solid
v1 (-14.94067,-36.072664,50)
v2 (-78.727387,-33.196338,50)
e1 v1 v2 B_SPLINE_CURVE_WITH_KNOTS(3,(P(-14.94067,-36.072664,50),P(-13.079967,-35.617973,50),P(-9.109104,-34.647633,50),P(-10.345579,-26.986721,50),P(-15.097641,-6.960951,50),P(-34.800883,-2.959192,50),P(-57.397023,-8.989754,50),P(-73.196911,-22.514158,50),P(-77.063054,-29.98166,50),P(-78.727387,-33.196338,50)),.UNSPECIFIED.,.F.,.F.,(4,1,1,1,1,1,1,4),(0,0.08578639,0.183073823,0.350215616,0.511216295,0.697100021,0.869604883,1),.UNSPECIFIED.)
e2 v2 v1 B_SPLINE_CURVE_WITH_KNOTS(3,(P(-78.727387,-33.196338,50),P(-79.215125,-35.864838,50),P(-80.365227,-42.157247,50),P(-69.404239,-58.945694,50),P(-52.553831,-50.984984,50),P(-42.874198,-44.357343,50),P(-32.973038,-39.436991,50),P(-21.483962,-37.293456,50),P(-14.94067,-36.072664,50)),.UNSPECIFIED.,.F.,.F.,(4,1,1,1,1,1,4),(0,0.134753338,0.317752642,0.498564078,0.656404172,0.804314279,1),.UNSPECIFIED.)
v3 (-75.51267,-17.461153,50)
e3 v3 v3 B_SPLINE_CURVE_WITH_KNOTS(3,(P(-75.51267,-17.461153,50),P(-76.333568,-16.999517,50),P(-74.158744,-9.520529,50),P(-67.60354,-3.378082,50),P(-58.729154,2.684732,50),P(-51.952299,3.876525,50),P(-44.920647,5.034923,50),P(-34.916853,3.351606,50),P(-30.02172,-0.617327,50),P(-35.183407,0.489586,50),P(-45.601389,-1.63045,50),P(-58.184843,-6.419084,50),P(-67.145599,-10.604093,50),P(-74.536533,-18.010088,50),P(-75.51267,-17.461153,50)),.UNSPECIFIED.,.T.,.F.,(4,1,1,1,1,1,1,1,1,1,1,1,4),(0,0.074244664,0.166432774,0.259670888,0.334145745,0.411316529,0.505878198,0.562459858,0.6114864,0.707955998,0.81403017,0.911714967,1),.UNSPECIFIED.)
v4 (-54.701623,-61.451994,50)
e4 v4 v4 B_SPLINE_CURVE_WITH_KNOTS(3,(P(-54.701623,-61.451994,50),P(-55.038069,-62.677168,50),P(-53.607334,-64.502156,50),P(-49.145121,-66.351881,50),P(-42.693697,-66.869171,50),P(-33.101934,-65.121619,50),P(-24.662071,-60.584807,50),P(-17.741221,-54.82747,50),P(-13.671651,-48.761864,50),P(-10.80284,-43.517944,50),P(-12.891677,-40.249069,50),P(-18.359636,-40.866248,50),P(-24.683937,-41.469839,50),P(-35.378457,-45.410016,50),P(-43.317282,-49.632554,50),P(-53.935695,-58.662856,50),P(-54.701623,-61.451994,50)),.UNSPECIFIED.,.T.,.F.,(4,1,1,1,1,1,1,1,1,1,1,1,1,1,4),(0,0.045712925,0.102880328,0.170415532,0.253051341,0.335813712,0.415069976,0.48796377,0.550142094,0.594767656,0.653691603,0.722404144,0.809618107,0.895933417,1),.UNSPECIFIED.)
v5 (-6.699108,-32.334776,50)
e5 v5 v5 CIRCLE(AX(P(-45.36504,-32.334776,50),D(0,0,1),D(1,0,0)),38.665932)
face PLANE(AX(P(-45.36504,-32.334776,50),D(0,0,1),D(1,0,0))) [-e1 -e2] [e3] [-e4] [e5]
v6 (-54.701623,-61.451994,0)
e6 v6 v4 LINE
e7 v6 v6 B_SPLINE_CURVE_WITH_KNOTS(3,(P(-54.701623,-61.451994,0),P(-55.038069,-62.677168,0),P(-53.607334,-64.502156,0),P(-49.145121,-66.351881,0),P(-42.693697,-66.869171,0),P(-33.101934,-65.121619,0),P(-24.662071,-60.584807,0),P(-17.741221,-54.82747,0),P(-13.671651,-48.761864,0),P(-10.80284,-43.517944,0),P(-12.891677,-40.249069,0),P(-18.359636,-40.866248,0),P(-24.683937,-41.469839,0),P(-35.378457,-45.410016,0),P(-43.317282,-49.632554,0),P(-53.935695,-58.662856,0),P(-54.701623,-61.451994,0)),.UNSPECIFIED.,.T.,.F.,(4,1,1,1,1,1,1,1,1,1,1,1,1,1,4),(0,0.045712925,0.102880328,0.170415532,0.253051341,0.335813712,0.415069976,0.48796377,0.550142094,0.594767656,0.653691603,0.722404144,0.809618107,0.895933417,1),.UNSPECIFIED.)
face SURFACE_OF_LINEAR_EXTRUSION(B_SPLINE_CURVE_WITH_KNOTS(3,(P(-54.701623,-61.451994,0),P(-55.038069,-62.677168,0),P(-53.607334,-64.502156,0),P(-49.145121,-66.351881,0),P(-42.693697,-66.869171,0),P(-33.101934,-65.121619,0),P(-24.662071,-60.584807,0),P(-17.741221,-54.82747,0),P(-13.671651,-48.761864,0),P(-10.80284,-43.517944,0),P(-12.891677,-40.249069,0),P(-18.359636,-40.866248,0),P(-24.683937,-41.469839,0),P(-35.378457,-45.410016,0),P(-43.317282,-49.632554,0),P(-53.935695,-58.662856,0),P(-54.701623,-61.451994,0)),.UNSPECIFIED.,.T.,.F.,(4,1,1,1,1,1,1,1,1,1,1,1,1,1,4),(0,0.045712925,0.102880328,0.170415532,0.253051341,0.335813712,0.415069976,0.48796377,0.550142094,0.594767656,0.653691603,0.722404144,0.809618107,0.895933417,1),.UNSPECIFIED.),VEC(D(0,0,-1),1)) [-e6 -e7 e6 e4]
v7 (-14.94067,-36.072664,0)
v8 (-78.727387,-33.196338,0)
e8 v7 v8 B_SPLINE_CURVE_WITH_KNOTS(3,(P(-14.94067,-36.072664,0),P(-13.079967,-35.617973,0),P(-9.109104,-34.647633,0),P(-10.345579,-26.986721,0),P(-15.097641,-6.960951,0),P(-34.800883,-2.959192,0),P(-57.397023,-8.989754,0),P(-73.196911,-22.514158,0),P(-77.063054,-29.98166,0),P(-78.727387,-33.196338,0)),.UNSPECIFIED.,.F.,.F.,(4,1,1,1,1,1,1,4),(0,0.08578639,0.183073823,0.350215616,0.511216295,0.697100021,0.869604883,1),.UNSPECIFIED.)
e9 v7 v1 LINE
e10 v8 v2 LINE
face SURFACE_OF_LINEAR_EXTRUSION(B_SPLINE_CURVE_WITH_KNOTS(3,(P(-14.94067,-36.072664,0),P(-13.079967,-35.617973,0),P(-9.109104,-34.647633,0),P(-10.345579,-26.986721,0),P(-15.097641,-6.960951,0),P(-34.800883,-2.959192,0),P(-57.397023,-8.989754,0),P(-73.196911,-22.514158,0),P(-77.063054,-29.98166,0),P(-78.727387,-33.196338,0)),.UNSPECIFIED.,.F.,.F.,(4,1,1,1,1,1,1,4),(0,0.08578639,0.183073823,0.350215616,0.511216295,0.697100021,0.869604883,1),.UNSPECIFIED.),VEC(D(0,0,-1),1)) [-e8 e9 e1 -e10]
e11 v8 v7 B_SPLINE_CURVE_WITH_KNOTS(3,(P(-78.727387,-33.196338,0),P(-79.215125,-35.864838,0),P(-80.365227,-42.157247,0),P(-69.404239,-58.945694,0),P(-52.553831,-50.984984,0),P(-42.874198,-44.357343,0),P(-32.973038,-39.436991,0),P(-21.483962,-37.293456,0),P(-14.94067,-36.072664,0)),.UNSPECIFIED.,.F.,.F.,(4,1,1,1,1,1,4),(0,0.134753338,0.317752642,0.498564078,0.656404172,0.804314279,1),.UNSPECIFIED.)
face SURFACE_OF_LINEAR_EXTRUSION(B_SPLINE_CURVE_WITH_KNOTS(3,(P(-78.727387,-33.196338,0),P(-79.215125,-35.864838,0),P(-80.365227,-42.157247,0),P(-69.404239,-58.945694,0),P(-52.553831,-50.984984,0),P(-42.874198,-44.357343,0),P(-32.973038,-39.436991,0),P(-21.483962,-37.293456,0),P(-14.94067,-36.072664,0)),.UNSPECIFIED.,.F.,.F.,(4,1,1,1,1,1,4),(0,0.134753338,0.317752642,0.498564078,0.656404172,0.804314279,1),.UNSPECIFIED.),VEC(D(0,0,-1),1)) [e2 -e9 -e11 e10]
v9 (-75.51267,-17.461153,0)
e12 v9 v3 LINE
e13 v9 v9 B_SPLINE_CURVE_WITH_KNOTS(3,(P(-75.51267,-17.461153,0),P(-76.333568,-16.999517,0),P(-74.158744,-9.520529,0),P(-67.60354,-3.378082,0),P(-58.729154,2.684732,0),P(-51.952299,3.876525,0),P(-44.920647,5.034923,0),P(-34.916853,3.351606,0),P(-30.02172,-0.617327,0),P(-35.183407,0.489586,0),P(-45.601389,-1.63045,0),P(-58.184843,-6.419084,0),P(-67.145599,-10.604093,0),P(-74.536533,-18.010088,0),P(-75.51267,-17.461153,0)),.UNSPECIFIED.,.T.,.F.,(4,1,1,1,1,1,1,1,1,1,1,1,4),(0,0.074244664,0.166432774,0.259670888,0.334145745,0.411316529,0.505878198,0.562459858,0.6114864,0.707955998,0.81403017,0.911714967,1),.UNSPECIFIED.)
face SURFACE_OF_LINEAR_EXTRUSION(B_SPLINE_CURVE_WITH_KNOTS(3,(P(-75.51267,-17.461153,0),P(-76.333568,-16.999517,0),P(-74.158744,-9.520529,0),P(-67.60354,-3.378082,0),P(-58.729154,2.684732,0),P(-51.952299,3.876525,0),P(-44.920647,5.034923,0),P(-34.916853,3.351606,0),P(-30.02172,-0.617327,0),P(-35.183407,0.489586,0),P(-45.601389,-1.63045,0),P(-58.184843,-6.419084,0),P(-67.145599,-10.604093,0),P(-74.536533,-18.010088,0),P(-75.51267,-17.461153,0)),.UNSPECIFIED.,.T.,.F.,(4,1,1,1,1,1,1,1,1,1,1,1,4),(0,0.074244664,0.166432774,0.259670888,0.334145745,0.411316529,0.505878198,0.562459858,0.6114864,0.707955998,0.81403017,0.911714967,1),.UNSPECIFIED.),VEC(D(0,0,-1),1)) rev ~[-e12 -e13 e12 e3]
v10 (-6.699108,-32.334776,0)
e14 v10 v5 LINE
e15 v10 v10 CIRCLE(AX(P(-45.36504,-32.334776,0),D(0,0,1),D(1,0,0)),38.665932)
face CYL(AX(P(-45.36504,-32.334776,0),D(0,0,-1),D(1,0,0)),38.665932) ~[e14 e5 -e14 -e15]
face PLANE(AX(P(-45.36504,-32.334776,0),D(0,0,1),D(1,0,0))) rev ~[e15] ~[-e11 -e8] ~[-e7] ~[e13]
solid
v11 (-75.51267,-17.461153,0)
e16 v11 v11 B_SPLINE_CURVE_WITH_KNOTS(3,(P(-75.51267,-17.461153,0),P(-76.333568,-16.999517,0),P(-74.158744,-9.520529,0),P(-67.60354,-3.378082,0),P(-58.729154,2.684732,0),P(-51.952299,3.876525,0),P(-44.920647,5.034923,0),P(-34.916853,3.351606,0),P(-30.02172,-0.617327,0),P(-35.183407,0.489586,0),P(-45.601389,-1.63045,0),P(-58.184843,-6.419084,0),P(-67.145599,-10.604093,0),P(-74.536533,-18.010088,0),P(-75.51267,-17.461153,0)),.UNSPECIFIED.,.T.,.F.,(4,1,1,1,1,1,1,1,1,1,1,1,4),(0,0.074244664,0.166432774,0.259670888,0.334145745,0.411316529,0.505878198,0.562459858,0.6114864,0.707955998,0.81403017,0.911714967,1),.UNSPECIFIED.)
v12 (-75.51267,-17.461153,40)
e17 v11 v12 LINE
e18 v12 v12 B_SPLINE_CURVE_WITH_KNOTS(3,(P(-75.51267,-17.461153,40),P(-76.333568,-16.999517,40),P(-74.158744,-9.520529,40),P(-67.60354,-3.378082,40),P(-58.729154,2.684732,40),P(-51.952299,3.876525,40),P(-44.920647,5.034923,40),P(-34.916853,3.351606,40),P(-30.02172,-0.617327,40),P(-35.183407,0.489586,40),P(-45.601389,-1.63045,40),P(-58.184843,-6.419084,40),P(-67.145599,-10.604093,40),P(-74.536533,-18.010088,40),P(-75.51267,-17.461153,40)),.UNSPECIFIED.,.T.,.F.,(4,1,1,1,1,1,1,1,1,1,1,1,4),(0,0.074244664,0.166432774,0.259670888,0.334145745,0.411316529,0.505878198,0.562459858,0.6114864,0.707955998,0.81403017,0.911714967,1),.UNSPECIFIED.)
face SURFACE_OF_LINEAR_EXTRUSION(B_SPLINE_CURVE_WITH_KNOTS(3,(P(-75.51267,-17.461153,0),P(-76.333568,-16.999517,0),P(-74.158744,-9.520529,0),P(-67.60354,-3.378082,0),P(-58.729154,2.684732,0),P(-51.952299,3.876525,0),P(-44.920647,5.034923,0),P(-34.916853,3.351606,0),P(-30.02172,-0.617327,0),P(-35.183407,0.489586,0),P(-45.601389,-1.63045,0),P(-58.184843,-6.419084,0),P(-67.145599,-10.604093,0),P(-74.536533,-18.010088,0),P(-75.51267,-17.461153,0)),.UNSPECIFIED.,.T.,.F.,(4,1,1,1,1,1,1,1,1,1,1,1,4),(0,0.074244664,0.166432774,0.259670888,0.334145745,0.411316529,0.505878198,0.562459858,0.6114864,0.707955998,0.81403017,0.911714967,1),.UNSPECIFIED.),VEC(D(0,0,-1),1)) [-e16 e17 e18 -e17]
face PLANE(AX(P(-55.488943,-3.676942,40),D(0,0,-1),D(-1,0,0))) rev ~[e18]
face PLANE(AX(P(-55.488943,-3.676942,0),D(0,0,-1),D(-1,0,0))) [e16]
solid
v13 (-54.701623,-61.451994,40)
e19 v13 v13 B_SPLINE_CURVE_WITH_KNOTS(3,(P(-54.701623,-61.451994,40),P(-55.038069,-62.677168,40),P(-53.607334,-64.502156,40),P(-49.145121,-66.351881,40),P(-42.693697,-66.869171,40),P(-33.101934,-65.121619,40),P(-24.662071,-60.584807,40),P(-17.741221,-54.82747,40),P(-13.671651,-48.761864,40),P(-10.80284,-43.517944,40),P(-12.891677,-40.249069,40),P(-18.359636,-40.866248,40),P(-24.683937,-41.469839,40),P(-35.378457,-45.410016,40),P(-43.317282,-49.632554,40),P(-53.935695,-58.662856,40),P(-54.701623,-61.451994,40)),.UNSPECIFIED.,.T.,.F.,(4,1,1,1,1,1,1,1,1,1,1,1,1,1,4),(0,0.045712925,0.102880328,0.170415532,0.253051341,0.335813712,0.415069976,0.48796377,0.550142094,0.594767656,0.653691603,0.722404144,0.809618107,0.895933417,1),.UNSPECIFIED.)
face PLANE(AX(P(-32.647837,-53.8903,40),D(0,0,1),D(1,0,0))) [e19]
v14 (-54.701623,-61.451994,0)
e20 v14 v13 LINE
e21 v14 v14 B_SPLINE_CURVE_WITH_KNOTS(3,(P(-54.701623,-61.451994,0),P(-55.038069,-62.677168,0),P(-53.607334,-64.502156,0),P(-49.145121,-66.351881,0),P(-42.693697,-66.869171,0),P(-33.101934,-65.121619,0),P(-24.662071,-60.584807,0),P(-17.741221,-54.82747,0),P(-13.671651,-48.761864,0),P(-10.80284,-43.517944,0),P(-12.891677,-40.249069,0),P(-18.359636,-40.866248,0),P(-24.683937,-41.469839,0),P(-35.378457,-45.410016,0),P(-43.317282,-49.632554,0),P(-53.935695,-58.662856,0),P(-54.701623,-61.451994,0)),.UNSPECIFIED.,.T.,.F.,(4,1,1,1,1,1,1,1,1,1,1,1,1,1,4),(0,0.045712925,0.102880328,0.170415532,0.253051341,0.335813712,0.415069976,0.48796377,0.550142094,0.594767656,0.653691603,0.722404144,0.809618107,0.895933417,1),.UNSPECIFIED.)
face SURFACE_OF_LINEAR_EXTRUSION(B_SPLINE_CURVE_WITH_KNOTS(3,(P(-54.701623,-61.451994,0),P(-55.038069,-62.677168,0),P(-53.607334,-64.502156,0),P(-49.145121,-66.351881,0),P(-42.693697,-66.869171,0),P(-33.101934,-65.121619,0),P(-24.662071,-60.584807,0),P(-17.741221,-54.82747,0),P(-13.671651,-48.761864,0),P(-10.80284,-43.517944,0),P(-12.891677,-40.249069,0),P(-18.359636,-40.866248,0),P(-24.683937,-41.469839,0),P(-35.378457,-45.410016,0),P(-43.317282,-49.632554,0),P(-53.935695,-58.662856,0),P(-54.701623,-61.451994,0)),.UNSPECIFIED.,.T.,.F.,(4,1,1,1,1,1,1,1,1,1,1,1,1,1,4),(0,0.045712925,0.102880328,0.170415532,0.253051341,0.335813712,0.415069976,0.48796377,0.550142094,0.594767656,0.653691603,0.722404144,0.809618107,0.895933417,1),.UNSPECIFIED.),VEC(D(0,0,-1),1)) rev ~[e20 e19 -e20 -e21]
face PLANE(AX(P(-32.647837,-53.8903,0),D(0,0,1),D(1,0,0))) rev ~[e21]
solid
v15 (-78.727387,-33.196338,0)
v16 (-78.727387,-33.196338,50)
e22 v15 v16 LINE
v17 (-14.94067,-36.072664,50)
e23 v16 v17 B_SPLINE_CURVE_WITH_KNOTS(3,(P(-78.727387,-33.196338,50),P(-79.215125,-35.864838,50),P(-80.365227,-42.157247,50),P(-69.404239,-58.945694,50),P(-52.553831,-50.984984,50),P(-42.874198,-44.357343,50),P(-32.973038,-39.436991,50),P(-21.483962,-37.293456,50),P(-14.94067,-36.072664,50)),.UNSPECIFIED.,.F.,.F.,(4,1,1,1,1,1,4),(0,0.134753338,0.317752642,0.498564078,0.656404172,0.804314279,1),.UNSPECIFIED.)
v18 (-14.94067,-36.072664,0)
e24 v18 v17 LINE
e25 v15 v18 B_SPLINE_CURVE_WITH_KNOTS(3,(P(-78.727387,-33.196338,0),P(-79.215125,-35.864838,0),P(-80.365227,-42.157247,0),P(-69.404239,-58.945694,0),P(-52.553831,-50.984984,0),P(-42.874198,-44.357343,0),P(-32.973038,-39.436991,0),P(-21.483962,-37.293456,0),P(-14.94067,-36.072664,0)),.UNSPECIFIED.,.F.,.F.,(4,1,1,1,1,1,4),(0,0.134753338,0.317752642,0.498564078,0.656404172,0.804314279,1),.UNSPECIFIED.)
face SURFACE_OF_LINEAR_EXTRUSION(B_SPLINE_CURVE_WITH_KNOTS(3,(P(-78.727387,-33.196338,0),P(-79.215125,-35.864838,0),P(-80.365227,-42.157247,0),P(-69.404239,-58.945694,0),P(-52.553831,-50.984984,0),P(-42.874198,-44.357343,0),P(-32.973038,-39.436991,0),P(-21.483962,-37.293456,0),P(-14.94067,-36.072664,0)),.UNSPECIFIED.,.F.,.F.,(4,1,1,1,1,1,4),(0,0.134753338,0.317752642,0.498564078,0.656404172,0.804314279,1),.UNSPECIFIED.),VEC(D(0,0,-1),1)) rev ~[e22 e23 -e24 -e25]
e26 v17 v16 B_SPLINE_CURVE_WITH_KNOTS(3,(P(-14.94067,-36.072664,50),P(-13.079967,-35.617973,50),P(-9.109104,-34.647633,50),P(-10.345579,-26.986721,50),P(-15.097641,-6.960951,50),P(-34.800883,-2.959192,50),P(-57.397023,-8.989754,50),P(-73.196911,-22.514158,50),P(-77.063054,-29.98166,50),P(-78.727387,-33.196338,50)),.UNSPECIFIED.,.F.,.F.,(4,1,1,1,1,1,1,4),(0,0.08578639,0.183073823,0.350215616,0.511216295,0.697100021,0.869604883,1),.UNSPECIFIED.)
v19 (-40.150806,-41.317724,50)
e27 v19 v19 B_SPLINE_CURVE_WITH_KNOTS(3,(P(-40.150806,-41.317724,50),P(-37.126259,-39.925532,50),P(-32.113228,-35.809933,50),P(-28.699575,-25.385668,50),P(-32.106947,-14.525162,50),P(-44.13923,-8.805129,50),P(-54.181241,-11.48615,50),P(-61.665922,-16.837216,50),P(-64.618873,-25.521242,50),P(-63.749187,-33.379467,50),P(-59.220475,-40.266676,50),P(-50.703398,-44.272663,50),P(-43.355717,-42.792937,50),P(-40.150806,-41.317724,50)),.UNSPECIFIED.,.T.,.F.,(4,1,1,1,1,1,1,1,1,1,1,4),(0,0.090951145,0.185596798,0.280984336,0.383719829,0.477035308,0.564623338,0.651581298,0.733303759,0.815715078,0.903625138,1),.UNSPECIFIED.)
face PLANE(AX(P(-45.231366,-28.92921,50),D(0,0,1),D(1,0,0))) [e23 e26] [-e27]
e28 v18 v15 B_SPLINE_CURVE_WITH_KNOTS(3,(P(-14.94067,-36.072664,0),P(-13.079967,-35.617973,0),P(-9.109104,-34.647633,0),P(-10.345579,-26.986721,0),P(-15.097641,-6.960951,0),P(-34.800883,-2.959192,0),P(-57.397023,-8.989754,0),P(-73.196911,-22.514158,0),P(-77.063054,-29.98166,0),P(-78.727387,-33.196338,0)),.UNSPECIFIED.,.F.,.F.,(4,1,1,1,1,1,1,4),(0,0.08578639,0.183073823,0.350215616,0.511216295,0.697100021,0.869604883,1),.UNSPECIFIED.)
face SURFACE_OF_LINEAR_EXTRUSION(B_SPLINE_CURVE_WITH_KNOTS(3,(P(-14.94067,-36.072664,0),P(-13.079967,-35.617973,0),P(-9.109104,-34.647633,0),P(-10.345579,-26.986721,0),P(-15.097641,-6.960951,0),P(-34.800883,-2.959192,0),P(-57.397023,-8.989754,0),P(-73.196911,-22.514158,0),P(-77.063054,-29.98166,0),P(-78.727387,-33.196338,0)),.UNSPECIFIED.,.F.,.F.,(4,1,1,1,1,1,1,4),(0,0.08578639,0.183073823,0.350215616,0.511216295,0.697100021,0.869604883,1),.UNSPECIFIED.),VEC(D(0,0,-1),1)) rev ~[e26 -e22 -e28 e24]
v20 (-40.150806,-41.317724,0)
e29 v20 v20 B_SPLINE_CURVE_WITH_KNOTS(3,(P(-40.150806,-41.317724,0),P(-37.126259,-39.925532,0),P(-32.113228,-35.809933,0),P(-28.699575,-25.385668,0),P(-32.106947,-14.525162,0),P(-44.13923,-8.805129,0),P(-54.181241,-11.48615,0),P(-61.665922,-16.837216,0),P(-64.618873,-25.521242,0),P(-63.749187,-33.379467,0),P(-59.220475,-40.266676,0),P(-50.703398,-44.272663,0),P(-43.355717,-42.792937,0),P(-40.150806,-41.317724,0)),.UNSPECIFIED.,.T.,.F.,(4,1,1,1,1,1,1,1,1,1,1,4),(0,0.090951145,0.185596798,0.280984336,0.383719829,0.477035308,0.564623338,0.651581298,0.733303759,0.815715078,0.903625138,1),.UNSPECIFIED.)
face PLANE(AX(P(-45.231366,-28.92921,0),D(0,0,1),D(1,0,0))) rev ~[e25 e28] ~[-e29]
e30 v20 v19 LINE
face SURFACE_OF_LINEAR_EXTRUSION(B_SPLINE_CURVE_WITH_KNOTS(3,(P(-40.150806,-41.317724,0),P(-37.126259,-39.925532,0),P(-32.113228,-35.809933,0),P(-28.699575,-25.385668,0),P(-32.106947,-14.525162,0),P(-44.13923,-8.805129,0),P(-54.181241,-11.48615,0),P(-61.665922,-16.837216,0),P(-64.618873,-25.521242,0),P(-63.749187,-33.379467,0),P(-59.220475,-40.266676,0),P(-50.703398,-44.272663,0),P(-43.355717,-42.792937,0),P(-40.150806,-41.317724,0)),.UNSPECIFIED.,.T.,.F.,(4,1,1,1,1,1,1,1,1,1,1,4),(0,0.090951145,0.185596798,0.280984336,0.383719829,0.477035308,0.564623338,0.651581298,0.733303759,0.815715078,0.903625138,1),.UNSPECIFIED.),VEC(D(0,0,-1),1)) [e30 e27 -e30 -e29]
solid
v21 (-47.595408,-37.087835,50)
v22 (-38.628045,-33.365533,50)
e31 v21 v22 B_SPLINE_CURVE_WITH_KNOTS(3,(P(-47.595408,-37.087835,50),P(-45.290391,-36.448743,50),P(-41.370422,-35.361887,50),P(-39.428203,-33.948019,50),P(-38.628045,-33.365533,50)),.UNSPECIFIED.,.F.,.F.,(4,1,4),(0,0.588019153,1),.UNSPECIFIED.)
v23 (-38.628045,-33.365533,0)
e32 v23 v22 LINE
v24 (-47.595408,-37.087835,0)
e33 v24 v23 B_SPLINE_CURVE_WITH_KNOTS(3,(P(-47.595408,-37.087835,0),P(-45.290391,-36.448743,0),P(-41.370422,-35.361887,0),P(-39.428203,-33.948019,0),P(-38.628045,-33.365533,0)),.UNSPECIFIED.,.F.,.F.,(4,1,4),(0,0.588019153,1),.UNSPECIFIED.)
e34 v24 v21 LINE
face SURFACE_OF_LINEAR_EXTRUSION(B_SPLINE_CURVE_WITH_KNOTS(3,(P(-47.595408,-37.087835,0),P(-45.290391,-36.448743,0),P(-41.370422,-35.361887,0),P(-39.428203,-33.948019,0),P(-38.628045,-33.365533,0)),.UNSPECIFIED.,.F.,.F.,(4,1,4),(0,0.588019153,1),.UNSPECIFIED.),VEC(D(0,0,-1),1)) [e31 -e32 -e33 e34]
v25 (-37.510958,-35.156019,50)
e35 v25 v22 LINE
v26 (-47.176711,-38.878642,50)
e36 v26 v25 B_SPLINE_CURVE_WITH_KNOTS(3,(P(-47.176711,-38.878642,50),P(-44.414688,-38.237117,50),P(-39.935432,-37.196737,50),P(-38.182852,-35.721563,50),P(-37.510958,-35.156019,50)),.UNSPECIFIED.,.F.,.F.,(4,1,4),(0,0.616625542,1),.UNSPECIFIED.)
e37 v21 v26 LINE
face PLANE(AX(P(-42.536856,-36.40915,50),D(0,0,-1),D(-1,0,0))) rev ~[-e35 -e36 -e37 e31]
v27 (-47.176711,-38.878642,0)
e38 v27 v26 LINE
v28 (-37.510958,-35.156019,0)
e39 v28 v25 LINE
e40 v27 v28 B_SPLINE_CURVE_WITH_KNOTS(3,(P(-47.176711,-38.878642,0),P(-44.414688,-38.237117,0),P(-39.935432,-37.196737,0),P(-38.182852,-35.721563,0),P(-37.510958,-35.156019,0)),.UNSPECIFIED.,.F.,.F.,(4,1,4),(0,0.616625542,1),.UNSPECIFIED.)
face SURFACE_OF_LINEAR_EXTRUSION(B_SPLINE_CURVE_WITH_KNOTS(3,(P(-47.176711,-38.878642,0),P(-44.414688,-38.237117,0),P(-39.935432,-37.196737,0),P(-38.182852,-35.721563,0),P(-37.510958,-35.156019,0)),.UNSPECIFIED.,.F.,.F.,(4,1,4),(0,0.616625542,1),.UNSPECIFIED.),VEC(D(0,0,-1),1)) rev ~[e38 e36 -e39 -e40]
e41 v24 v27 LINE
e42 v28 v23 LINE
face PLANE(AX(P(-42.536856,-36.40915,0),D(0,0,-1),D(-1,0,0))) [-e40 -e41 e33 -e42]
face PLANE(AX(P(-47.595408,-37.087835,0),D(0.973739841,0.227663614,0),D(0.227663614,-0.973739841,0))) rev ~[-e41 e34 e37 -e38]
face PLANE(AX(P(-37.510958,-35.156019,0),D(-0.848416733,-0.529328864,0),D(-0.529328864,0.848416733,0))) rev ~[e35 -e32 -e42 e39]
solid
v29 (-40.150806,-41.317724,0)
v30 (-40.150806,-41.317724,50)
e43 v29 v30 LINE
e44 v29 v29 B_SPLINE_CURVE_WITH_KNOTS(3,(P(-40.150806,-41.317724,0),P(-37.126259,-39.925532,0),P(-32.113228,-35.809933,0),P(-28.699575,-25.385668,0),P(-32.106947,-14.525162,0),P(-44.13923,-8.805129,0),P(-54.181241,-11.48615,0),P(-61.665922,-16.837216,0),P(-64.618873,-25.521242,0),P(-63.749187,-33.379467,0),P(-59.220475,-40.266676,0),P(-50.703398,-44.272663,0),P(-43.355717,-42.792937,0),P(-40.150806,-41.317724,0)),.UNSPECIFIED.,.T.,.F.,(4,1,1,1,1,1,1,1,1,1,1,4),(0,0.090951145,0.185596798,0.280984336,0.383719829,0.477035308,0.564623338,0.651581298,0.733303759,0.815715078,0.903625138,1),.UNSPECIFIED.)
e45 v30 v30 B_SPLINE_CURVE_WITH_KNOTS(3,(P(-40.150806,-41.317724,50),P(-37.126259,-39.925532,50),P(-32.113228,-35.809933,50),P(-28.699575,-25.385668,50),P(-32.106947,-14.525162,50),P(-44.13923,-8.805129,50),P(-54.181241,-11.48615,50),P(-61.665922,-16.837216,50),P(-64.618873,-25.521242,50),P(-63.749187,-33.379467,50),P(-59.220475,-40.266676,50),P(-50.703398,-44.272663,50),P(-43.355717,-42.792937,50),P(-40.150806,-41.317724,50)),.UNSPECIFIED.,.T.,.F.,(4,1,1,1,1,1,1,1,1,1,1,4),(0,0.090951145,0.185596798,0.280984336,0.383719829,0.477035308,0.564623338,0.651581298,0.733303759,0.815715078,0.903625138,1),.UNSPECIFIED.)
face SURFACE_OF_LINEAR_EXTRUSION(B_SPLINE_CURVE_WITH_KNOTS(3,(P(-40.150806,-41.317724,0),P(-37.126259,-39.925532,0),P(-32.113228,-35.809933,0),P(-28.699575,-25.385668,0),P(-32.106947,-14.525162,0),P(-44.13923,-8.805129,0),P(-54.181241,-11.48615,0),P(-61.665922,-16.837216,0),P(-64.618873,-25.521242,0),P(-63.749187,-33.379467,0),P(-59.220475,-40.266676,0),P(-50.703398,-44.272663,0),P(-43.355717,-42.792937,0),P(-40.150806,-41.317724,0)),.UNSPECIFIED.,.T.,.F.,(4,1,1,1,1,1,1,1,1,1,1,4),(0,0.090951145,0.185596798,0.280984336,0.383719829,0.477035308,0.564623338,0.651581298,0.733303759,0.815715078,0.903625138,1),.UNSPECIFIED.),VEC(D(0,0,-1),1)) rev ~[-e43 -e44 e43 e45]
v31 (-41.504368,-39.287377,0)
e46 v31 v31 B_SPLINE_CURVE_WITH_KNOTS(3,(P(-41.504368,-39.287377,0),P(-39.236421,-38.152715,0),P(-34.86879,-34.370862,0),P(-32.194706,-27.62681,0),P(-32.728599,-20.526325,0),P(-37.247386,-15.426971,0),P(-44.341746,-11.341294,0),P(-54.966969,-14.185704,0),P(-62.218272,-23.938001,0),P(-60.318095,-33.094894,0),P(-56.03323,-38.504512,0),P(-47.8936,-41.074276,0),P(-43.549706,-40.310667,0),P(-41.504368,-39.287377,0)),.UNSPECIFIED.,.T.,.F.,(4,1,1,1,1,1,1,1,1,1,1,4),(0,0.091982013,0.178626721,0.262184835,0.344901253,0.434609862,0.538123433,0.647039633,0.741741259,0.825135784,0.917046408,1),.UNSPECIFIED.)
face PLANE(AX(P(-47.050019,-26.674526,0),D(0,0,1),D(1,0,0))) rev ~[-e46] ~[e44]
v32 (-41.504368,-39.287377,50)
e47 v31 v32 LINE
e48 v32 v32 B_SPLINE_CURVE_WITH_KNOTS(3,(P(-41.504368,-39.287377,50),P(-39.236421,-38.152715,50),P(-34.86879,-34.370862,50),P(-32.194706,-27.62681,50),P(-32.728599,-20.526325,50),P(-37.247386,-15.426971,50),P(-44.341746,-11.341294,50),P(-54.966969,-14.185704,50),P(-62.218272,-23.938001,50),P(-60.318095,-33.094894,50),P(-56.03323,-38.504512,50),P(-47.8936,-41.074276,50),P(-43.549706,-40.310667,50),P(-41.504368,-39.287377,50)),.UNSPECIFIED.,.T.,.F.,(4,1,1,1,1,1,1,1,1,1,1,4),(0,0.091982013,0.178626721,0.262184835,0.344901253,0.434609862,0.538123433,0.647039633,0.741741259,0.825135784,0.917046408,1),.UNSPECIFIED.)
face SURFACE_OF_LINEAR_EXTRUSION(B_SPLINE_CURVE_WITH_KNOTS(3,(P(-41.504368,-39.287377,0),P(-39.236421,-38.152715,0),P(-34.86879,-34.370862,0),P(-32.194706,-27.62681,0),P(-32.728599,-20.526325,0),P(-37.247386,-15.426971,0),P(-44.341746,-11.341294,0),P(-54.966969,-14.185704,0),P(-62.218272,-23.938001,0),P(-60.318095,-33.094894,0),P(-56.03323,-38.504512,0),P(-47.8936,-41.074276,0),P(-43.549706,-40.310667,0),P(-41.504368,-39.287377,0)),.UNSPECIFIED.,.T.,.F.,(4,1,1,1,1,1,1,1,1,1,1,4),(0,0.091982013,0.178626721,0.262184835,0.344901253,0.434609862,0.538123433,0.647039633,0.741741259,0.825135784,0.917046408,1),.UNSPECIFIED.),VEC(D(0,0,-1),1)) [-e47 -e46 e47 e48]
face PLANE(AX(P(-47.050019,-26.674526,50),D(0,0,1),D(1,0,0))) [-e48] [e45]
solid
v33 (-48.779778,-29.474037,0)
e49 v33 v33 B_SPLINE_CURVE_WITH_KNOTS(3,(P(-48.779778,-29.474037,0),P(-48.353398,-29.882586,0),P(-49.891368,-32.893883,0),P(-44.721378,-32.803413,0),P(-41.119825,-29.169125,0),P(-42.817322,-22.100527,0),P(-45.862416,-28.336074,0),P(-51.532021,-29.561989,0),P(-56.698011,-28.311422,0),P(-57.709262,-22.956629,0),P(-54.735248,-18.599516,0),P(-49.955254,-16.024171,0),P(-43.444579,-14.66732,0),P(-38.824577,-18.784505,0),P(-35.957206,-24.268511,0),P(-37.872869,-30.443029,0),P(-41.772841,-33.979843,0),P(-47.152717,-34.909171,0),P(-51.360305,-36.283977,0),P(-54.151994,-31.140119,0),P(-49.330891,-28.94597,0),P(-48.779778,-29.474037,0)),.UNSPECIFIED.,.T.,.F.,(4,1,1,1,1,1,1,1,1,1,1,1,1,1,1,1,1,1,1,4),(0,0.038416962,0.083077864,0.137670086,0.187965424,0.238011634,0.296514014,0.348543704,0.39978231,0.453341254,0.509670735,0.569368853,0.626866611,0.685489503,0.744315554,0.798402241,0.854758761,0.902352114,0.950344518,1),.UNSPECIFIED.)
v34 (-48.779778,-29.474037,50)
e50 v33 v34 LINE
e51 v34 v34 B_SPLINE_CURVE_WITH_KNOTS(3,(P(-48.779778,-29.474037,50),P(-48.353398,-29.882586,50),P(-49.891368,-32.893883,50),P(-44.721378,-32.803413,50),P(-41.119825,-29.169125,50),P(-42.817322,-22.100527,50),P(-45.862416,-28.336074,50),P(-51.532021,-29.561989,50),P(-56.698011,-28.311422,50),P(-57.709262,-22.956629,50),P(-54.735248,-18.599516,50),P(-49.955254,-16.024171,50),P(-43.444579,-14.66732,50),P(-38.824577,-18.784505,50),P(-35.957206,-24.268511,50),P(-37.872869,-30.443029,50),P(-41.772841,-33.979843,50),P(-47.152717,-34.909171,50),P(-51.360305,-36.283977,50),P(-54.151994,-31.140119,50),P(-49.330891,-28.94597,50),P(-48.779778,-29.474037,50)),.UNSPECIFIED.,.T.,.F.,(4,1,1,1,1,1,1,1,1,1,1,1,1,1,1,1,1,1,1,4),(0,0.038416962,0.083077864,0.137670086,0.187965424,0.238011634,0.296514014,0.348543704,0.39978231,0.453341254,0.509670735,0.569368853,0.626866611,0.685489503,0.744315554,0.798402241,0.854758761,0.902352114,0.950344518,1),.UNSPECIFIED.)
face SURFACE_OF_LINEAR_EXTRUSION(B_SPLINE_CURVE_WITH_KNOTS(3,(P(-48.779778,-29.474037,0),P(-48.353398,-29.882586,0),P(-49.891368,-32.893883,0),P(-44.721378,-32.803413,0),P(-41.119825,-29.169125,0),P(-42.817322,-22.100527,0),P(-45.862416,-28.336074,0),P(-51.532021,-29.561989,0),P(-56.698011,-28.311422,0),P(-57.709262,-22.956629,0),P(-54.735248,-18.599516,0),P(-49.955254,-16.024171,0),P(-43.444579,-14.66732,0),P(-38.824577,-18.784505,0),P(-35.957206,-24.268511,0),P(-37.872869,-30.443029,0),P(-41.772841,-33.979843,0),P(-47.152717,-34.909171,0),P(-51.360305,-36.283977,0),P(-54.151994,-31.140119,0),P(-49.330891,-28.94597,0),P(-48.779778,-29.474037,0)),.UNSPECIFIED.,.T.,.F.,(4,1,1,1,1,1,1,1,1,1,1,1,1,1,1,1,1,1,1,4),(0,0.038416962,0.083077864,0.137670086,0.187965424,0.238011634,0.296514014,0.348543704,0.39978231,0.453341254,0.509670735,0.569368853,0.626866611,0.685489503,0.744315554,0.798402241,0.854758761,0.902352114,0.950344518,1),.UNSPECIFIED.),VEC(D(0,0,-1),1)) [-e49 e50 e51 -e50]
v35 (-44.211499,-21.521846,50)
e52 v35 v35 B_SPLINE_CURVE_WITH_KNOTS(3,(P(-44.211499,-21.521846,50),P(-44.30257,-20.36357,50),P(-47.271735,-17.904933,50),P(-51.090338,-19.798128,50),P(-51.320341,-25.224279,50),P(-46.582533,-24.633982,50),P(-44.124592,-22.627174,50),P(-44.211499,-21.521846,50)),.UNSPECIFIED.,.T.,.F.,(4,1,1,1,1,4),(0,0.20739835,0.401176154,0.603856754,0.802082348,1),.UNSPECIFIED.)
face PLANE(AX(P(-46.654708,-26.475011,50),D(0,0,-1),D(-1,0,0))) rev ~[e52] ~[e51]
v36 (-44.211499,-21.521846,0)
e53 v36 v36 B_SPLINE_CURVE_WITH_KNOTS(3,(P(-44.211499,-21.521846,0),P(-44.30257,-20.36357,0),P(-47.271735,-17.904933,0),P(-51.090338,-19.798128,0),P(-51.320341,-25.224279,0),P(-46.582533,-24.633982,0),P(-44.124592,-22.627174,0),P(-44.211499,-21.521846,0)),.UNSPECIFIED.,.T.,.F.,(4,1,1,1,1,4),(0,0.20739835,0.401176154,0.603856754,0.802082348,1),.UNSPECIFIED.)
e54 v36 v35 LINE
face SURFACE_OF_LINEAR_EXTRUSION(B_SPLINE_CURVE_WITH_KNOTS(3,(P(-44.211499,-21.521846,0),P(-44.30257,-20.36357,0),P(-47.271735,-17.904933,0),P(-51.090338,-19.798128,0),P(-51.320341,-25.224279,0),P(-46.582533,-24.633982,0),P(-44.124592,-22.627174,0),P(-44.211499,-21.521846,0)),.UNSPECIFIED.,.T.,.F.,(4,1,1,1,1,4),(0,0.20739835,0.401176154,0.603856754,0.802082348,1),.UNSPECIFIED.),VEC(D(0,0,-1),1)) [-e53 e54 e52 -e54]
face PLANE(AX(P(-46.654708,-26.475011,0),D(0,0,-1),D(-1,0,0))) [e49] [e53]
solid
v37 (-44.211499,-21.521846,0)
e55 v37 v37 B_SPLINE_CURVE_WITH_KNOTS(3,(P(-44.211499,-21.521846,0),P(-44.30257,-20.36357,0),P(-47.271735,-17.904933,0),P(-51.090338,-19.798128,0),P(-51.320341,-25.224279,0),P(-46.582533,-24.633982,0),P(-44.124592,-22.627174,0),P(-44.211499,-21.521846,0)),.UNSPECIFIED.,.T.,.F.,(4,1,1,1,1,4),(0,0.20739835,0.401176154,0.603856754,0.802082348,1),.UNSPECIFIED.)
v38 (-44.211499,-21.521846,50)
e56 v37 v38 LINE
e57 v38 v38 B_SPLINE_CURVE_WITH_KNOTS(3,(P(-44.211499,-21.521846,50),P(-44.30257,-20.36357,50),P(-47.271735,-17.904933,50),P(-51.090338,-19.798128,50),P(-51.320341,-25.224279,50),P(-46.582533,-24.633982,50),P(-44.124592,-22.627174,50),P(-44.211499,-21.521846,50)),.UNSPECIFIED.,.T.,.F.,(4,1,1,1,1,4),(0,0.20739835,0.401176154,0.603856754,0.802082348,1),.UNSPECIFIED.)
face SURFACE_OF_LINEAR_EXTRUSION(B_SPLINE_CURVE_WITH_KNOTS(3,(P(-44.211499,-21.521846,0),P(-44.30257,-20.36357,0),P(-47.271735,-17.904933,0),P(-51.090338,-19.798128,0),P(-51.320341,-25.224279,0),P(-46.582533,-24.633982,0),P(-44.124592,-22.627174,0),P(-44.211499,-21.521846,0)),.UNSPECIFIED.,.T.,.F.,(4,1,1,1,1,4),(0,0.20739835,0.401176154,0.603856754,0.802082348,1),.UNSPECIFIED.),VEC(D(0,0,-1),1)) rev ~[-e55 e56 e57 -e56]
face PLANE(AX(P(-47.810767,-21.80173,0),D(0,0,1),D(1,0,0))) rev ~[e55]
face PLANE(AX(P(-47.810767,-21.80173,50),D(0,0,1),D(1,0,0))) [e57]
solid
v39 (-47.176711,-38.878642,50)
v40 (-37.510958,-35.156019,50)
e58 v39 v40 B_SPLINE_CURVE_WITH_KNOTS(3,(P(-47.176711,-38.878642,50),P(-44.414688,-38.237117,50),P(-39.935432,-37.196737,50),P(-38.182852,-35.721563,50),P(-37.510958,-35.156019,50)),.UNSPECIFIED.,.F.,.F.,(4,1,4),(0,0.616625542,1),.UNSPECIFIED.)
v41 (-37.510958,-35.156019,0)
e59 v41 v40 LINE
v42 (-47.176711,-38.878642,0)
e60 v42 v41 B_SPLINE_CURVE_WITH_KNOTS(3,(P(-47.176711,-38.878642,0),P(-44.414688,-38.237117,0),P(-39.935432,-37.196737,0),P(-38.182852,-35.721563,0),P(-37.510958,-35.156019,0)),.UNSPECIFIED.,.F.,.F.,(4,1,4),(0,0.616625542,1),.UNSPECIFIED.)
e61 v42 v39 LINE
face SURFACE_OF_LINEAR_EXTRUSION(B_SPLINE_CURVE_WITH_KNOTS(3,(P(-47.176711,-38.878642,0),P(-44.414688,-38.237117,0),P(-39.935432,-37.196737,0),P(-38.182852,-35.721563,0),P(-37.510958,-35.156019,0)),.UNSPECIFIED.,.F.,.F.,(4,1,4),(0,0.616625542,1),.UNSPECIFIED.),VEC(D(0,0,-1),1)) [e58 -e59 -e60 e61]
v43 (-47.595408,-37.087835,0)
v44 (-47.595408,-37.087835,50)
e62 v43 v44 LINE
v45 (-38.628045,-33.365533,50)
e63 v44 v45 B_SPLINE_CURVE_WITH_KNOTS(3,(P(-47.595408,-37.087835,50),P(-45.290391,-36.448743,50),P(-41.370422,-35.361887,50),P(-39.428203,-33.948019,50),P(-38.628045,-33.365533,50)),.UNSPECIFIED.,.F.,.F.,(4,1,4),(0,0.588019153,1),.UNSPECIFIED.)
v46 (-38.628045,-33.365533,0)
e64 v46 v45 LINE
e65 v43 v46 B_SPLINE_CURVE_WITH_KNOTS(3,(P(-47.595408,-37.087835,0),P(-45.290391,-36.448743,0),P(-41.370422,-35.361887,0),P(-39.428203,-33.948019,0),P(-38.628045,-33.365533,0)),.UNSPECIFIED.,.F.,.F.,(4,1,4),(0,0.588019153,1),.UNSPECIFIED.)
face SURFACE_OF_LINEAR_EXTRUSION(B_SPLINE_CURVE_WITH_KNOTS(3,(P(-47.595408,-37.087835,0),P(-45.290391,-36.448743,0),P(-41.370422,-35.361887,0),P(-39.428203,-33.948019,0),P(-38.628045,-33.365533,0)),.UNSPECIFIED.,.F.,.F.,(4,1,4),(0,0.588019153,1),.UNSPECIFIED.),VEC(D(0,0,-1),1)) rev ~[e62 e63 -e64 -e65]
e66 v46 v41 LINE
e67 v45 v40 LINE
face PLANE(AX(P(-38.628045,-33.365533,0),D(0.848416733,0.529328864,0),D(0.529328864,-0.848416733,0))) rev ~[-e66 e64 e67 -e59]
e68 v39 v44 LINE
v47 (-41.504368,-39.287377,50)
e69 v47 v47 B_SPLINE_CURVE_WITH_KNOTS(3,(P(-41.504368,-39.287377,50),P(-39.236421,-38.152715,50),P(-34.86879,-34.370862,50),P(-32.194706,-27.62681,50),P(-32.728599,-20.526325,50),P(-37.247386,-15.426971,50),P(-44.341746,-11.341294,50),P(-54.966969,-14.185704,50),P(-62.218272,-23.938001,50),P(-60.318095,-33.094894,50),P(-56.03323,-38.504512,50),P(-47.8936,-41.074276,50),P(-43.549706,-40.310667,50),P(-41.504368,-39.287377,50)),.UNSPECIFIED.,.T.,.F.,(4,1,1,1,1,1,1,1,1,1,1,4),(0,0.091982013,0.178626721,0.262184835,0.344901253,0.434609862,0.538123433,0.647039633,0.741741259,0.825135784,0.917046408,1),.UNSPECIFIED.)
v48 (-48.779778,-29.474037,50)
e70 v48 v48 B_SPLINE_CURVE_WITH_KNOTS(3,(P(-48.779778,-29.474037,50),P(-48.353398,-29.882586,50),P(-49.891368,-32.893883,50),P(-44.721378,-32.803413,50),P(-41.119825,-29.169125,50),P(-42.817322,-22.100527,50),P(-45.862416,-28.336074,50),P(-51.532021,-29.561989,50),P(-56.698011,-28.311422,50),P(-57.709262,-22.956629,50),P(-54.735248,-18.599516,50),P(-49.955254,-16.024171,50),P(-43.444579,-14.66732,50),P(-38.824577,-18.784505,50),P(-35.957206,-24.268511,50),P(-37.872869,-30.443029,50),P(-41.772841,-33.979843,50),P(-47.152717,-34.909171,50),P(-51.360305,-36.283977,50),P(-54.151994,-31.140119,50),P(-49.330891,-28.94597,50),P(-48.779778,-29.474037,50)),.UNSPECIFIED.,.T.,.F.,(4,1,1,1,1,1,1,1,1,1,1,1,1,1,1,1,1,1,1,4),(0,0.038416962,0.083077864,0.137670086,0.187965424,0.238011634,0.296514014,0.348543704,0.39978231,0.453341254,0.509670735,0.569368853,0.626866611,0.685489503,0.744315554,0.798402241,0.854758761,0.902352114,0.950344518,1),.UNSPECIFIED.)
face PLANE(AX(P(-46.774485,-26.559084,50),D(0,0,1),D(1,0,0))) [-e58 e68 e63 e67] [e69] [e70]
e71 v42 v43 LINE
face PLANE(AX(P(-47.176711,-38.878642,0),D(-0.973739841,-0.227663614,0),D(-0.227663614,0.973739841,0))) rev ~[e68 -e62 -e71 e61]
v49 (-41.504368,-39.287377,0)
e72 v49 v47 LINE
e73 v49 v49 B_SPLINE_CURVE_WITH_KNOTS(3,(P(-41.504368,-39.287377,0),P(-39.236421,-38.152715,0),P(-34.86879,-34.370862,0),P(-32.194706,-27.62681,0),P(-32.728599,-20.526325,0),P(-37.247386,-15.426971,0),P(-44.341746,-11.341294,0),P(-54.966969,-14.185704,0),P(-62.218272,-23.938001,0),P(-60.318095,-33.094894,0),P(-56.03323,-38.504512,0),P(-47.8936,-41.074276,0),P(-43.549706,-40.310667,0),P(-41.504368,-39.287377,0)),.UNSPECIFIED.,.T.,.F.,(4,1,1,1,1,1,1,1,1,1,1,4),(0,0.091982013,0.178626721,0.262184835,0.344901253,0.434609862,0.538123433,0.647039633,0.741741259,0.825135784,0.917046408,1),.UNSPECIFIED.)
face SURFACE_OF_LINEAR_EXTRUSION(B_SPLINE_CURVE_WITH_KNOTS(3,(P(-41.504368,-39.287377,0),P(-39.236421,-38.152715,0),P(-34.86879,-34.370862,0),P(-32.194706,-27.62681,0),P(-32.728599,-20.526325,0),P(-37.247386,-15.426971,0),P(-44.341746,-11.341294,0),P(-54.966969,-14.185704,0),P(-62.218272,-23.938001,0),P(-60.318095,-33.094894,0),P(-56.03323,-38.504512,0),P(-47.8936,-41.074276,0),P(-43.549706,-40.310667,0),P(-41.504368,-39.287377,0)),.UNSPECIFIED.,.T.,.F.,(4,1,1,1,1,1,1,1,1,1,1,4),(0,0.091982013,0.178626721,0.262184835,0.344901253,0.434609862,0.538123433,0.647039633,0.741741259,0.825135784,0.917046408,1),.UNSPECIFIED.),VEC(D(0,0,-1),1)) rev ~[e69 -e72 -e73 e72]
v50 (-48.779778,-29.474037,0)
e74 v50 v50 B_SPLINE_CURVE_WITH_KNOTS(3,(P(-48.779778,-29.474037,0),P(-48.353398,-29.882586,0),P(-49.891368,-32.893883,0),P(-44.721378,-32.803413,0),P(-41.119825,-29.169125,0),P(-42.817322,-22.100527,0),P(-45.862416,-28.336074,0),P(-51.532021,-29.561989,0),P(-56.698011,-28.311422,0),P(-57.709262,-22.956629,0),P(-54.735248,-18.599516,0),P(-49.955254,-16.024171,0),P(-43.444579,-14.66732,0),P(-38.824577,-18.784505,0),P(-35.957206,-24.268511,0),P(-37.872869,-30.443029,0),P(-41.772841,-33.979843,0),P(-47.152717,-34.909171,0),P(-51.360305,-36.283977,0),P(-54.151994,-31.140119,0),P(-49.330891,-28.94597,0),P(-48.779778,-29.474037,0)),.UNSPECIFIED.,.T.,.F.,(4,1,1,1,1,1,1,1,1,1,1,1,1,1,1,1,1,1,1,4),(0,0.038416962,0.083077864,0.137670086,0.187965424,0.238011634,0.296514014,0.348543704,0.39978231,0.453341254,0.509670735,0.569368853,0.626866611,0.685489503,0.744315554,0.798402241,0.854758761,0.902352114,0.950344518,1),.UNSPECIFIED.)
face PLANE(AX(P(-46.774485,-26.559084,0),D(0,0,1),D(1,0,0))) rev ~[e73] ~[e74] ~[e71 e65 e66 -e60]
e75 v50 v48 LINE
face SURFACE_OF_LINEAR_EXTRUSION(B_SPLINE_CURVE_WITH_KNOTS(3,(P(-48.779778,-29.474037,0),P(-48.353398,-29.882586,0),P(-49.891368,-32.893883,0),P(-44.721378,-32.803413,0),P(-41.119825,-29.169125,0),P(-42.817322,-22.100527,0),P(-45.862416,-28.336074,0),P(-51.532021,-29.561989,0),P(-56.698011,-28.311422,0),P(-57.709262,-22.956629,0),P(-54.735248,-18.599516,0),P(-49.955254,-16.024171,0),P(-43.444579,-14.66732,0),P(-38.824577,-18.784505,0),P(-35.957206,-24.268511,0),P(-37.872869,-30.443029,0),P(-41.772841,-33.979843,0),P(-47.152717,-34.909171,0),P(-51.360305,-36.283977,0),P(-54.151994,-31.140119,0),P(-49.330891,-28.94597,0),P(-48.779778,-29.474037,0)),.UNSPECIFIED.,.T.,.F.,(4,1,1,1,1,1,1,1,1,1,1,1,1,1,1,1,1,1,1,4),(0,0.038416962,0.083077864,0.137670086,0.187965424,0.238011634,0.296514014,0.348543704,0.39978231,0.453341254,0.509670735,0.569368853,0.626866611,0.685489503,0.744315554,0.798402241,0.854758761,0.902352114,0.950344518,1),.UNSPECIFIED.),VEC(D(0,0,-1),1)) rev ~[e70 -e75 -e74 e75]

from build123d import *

# Parameters (mm, degrees)
F0_R     = 38.6659322754
F1_DEPTH = 50
F2_DEPTH = 50
F3_DEPTH = 50
F4_DEPTH = 50
F5_DEPTH = 50
F6_DEPTH = 50
F7_DEPTH = 50
F8_DEPTH = 40
F9_DEPTH = 40


with BuildPart() as f1:
    # F0 (on Top) → F1 (new body)
    with BuildSketch(Plane.XY):
        with Locations((-45.3650403162, -32.3347761936)):
            Circle(F0_R)
        with BuildLine():
            add(Edge.make_bspline(
                [(-54.7016225755, -61.4519938827), (-55.038068733, -62.6771678404), (-53.6073343695, -64.502155864), (-49.1451212889, -66.3518812301), (-42.6936970652, -66.8691706305), (-33.1019343922, -65.121619366), (-24.6620708073, -60.5848069338), (-17.7412208584, -54.8274695961), (-13.6716510885, -48.7618635261), (-10.8028400201, -43.5179440913), (-12.8916773817, -40.2490689014), (-18.3596364718, -40.8662479371), (-24.6839371249, -41.4698387567), (-35.3784572572, -45.410015808), (-43.3172820804, -49.6325540027), (-53.9356947261, -58.6628556101), (-54.7016225755, -61.4519938827)],
                knots=[0, 0, 0, 0, 0.0457129247, 0.1028803277, 0.1704155316, 0.2530513413, 0.3358137118, 0.4150699765, 0.48796377, 0.5501420945, 0.5947676564, 0.6536916034, 0.7224041444, 0.8096181068, 0.8959334167, 1, 1, 1, 1], degree=3))
        make_face(mode=Mode.SUBTRACT)
        with BuildLine():
            add(Edge.make_bspline(
                [(-75.5126699805, -17.4611527473), (-76.3335675946, -16.9995170078), (-74.1587443341, -9.5205286032), (-67.6035404498, -3.3780823489), (-58.7291541186, 2.6847318054), (-51.9522988242, 3.8765253803), (-44.9206469021, 5.0349231616), (-34.9168532789, 3.3516063034), (-30.0217203512, -0.617327472), (-35.1834071565, 0.4895859201), (-45.6013891316, -1.6304503805), (-58.1848429341, -6.4190844434), (-67.1455988693, -10.604092752), (-74.5365328621, -18.0100881721), (-75.5126699805, -17.4611527473)],
                knots=[0, 0, 0, 0, 0.0742446644, 0.1664327744, 0.2596708882, 0.3341457452, 0.4113165286, 0.5058781983, 0.5624598575, 0.6114863995, 0.7079559981, 0.8140301699, 0.9117149672, 1, 1, 1, 1], degree=3))
        make_face(mode=Mode.SUBTRACT)
        with BuildLine():
            add(Edge.make_bspline(
                [(-78.7273868918, -33.1963375211), (-79.215124952, -35.864838231), (-80.3652267523, -42.1572474591), (-69.4042392844, -58.9456941615), (-52.5538311184, -50.9849839857), (-42.8741984673, -44.3573429724), (-32.9730376498, -39.4369914934), (-21.483962252, -37.2934564403), (-14.9406697601, -36.0726639628)],
                knots=[0, 0, 0, 0, 0.1347533385, 0.3177526421, 0.4985640781, 0.656404172, 0.8043142791, 1, 1, 1, 1], degree=3))
            add(Edge.make_bspline(
                [(-14.9406697601, -36.0726639628), (-13.079967013, -35.6179731974), (-9.1091044323, -34.647633067), (-10.3455791002, -26.9867205892), (-15.0976412841, -6.9609509242), (-34.8008831144, -2.9591924602), (-57.3970234982, -8.989753811), (-73.1969108094, -22.5141578639), (-77.0630544762, -29.9816598681), (-78.7273868918, -33.1963375211)],
                knots=[0, 0, 0, 0, 0.0857863898, 0.1830738228, 0.3502156156, 0.5112162953, 0.6971000209, 0.8696048835, 1, 1, 1, 1], degree=3))
        make_face(mode=Mode.SUBTRACT)
    extrude(amount=F1_DEPTH)


with BuildPart() as f2:
    # F0 (on Top) → F2 (new body)
    with BuildSketch(Plane.XY):
        with BuildLine():
            add(Edge.make_bspline(
                [(-14.9406697601, -36.0726639628), (-13.079967013, -35.6179731974), (-9.1091044323, -34.647633067), (-10.3455791002, -26.9867205892), (-15.0976412841, -6.9609509242), (-34.8008831144, -2.9591924602), (-57.3970234982, -8.989753811), (-73.1969108094, -22.5141578639), (-77.0630544762, -29.9816598681), (-78.7273868918, -33.1963375211)],
                knots=[0, 0, 0, 0, 0.0857863898, 0.1830738228, 0.3502156156, 0.5112162953, 0.6971000209, 0.8696048835, 1, 1, 1, 1], degree=3))
            add(Edge.make_bspline(
                [(-78.7273868918, -33.1963375211), (-79.215124952, -35.864838231), (-80.3652267523, -42.1572474591), (-69.4042392844, -58.9456941615), (-52.5538311184, -50.9849839857), (-42.8741984673, -44.3573429724), (-32.9730376498, -39.4369914934), (-21.483962252, -37.2934564403), (-14.9406697601, -36.0726639628)],
                knots=[0, 0, 0, 0, 0.1347533385, 0.3177526421, 0.4985640781, 0.656404172, 0.8043142791, 1, 1, 1, 1], degree=3))
        make_face()
        with BuildLine():
            add(Edge.make_bspline(
                [(-40.1508063078, -41.3177236915), (-37.1262590305, -39.9255318002), (-32.1132277049, -35.8099329344), (-28.6995753307, -25.3856677611), (-32.1069468338, -14.5251621518), (-44.1392296252, -8.805129352), (-54.1812410216, -11.4861499358), (-61.6659223694, -16.8372163902), (-64.6188730169, -25.5212416819), (-63.7491871524, -33.3794665386), (-59.2204753187, -40.2666755963), (-50.7033983089, -44.272663015), (-43.3557173122, -42.7929365757), (-40.1508063078, -41.3177236915)],
                knots=[0, 0, 0, 0, 0.0909511451, 0.1855967984, 0.2809843363, 0.3837198287, 0.4770353082, 0.5646233384, 0.6515812975, 0.733303759, 0.8157150779, 0.9036251382, 1, 1, 1, 1], degree=3))
        make_face(mode=Mode.SUBTRACT)
    extrude(amount=F2_DEPTH)


with BuildPart() as f3:
    # F0 (on Top) → F3 (new body)
    with BuildSketch(Plane.XY):
        with BuildLine():
            add(Edge.make_bspline(
                [(-40.1508063078, -41.3177236915), (-37.1262590305, -39.9255318002), (-32.1132277049, -35.8099329344), (-28.6995753307, -25.3856677611), (-32.1069468338, -14.5251621518), (-44.1392296252, -8.805129352), (-54.1812410216, -11.4861499358), (-61.6659223694, -16.8372163902), (-64.6188730169, -25.5212416819), (-63.7491871524, -33.3794665386), (-59.2204753187, -40.2666755963), (-50.7033983089, -44.272663015), (-43.3557173122, -42.7929365757), (-40.1508063078, -41.3177236915)],
                knots=[0, 0, 0, 0, 0.0909511451, 0.1855967984, 0.2809843363, 0.3837198287, 0.4770353082, 0.5646233384, 0.6515812975, 0.733303759, 0.8157150779, 0.9036251382, 1, 1, 1, 1], degree=3))
        make_face()
        with BuildLine():
            add(Edge.make_bspline(
                [(-41.504368186, -39.2873771489), (-39.2364213899, -38.1527152671), (-34.8687899773, -34.3708621479), (-32.194705672, -27.6268100459), (-32.7285985558, -20.5263246274), (-37.247385951, -15.4269712838), (-44.3417460035, -11.3412939349), (-54.9669686281, -14.1857036119), (-62.2182722562, -23.9380008023), (-60.3180951896, -33.0948941176), (-56.033229913, -38.504512422), (-47.8935996444, -41.0742760709), (-43.5497064806, -40.3106672023), (-41.504368186, -39.2873771489)],
                knots=[0, 0, 0, 0, 0.0919820127, 0.1786267212, 0.2621848347, 0.3449012534, 0.4346098618, 0.5381234331, 0.6470396329, 0.7417412588, 0.825135784, 0.9170464081, 1, 1, 1, 1], degree=3))
        make_face(mode=Mode.SUBTRACT)
    extrude(amount=F3_DEPTH)


with BuildPart() as f4:
    # F0 (on Top) → F4 (new body)
    with BuildSketch(Plane.XY):
        with BuildLine():
            add(Edge.make_bspline(
                [(-48.7797781825, -29.4740367681), (-48.3533984242, -29.8825863003), (-49.8913681297, -32.893882539), (-44.7213784138, -32.8034128983), (-41.1198254237, -29.1691247184), (-42.8173216191, -22.100526692), (-45.862415762, -28.3360738629), (-51.532020805, -29.5619892212), (-56.6980114419, -28.3114221435), (-57.7092621048, -22.9566286967), (-54.7352480239, -18.5995159189), (-49.9552538624, -16.024170547), (-43.4445789564, -14.6673201529), (-38.8245771603, -18.784505435), (-35.9572055207, -24.2685106977), (-37.8728690161, -30.443029384), (-41.7728407219, -33.979843048), (-47.1527165471, -34.9091706078), (-51.3603052162, -36.2839769244), (-54.1519938256, -31.1401193154), (-49.3308913189, -28.9459699223), (-48.7797781825, -29.4740367681)],
                knots=[0, 0, 0, 0, 0.0384169622, 0.0830778643, 0.1376700858, 0.1879654236, 0.2380116338, 0.2965140142, 0.3485437044, 0.3997823098, 0.4533412543, 0.5096707345, 0.5693688527, 0.6268666107, 0.6854895026, 0.7443155544, 0.7984022413, 0.8547587614, 0.9023521136, 0.9503445177, 1, 1, 1, 1], degree=3))
        make_face()
        with BuildLine():
            add(Edge.make_bspline(
                [(-44.211499393, -21.5218458325), (-44.3025699732, -20.3635699239), (-47.2717347847, -17.9049332285), (-51.0903377464, -19.7981275388), (-51.32034137, -25.2242789309), (-46.5825333795, -24.6339815281), (-44.1245918772, -22.6271740471), (-44.211499393, -21.5218458325)],
                knots=[0, 0, 0, 0, 0.2073983502, 0.4011761535, 0.6038567541, 0.802082348, 1, 1, 1, 1], degree=3))
        make_face(mode=Mode.SUBTRACT)
    extrude(amount=F4_DEPTH)


with BuildPart() as f5:
    # F0 (on Top) → F5 (new body)
    with BuildSketch(Plane.XY):
        with BuildLine():
            add(Edge.make_bspline(
                [(-41.504368186, -39.2873771489), (-39.2364213899, -38.1527152671), (-34.8687899773, -34.3708621479), (-32.194705672, -27.6268100459), (-32.7285985558, -20.5263246274), (-37.247385951, -15.4269712838), (-44.3417460035, -11.3412939349), (-54.9669686281, -14.1857036119), (-62.2182722562, -23.9380008023), (-60.3180951896, -33.0948941176), (-56.033229913, -38.504512422), (-47.8935996444, -41.0742760709), (-43.5497064806, -40.3106672023), (-41.504368186, -39.2873771489)],
                knots=[0, 0, 0, 0, 0.0919820127, 0.1786267212, 0.2621848347, 0.3449012534, 0.4346098618, 0.5381234331, 0.6470396329, 0.7417412588, 0.825135784, 0.9170464081, 1, 1, 1, 1], degree=3))
        make_face()
        with BuildLine():
            Line((-47.1767112613, -38.8786420226), (-47.5954078138, -37.0878353715))
            add(Edge.make_bspline(
                [(-47.5954078138, -37.0878353715), (-45.2903908471, -36.4487430428), (-41.37042165, -35.3618867294), (-39.4282025426, -33.948019128), (-38.6280454695, -33.3655327559)],
                knots=[0, 0, 0, 0, 0.5880191529, 1, 1, 1, 1], degree=3))
            Line((-38.6280454695, -33.3655327559), (-37.5109575689, -35.156019032))
            add(Edge.make_bspline(
                [(-47.1767112613, -38.8786420226), (-44.4146879263, -38.2371170212), (-39.9354324492, -37.196736826), (-38.1828521079, -35.7215629989), (-37.5109575689, -35.156019032)],
                knots=[0, 0, 0, 0, 0.6166255417, 1, 1, 1, 1], degree=3))
        make_face(mode=Mode.SUBTRACT)
        with BuildLine():
            add(Edge.make_bspline(
                [(-48.7797781825, -29.4740367681), (-48.3533984242, -29.8825863003), (-49.8913681297, -32.893882539), (-44.7213784138, -32.8034128983), (-41.1198254237, -29.1691247184), (-42.8173216191, -22.100526692), (-45.862415762, -28.3360738629), (-51.532020805, -29.5619892212), (-56.6980114419, -28.3114221435), (-57.7092621048, -22.9566286967), (-54.7352480239, -18.5995159189), (-49.9552538624, -16.024170547), (-43.4445789564, -14.6673201529), (-38.8245771603, -18.784505435), (-35.9572055207, -24.2685106977), (-37.8728690161, -30.443029384), (-41.7728407219, -33.979843048), (-47.1527165471, -34.9091706078), (-51.3603052162, -36.2839769244), (-54.1519938256, -31.1401193154), (-49.3308913189, -28.9459699223), (-48.7797781825, -29.4740367681)],
                knots=[0, 0, 0, 0, 0.0384169622, 0.0830778643, 0.1376700858, 0.1879654236, 0.2380116338, 0.2965140142, 0.3485437044, 0.3997823098, 0.4533412543, 0.5096707345, 0.5693688527, 0.6268666107, 0.6854895026, 0.7443155544, 0.7984022413, 0.8547587614, 0.9023521136, 0.9503445177, 1, 1, 1, 1], degree=3))
        make_face(mode=Mode.SUBTRACT)
    extrude(amount=F5_DEPTH)


with BuildPart() as f6:
    # F0 (on Top) → F6 (new body)
    with BuildSketch(Plane.XY):
        with BuildLine():
            add(Edge.make_bspline(
                [(-44.211499393, -21.5218458325), (-44.3025699732, -20.3635699239), (-47.2717347847, -17.9049332285), (-51.0903377464, -19.7981275388), (-51.32034137, -25.2242789309), (-46.5825333795, -24.6339815281), (-44.1245918772, -22.6271740471), (-44.211499393, -21.5218458325)],
                knots=[0, 0, 0, 0, 0.2073983502, 0.4011761535, 0.6038567541, 0.802082348, 1, 1, 1, 1], degree=3))
        make_face()
    extrude(amount=F6_DEPTH)


with BuildPart() as f7:
    # F0 (on Top) → F7 (new body)
    with BuildSketch(Plane.XY):
        with BuildLine():
            add(Edge.make_bspline(
                [(-47.5954078138, -37.0878353715), (-45.2903908471, -36.4487430428), (-41.37042165, -35.3618867294), (-39.4282025426, -33.948019128), (-38.6280454695, -33.3655327559)],
                knots=[0, 0, 0, 0, 0.5880191529, 1, 1, 1, 1], degree=3))
            Line((-47.5954078138, -37.0878353715), (-47.1767112613, -38.8786420226))
            add(Edge.make_bspline(
                [(-47.1767112613, -38.8786420226), (-44.4146879263, -38.2371170212), (-39.9354324492, -37.196736826), (-38.1828521079, -35.7215629989), (-37.5109575689, -35.156019032)],
                knots=[0, 0, 0, 0, 0.6166255417, 1, 1, 1, 1], degree=3))
            Line((-37.5109575689, -35.156019032), (-38.6280454695, -33.3655327559))
        make_face()
    extrude(amount=F7_DEPTH)


with BuildPart() as f8:
    # F0 (on Top) → F8 (new body)
    with BuildSketch(Plane.XY):
        with BuildLine():
            add(Edge.make_bspline(
                [(-54.7016225755, -61.4519938827), (-55.038068733, -62.6771678404), (-53.6073343695, -64.502155864), (-49.1451212889, -66.3518812301), (-42.6936970652, -66.8691706305), (-33.1019343922, -65.121619366), (-24.6620708073, -60.5848069338), (-17.7412208584, -54.8274695961), (-13.6716510885, -48.7618635261), (-10.8028400201, -43.5179440913), (-12.8916773817, -40.2490689014), (-18.3596364718, -40.8662479371), (-24.6839371249, -41.4698387567), (-35.3784572572, -45.410015808), (-43.3172820804, -49.6325540027), (-53.9356947261, -58.6628556101), (-54.7016225755, -61.4519938827)],
                knots=[0, 0, 0, 0, 0.0457129247, 0.1028803277, 0.1704155316, 0.2530513413, 0.3358137118, 0.4150699765, 0.48796377, 0.5501420945, 0.5947676564, 0.6536916034, 0.7224041444, 0.8096181068, 0.8959334167, 1, 1, 1, 1], degree=3))
        make_face()
    extrude(amount=F8_DEPTH)


with BuildPart() as f9:
    # F0 (on Top) → F9 (new body)
    with BuildSketch(Plane.XY):
        with BuildLine():
            add(Edge.make_bspline(
                [(-75.5126699805, -17.4611527473), (-76.3335675946, -16.9995170078), (-74.1587443341, -9.5205286032), (-67.6035404498, -3.3780823489), (-58.7291541186, 2.6847318054), (-51.9522988242, 3.8765253803), (-44.9206469021, 5.0349231616), (-34.9168532789, 3.3516063034), (-30.0217203512, -0.617327472), (-35.1834071565, 0.4895859201), (-45.6013891316, -1.6304503805), (-58.1848429341, -6.4190844434), (-67.1455988693, -10.604092752), (-74.5365328621, -18.0100881721), (-75.5126699805, -17.4611527473)],
                knots=[0, 0, 0, 0, 0.0742446644, 0.1664327744, 0.2596708882, 0.3341457452, 0.4113165286, 0.5058781983, 0.5624598575, 0.6114863995, 0.7079559981, 0.8140301699, 0.9117149672, 1, 1, 1, 1], degree=3))
        make_face()
    extrude(amount=F9_DEPTH)


solid = Compound([f1.part, f2.part, f3.part, f4.part, f5.part, f6.part, f7.part, f8.part, f9.part])
